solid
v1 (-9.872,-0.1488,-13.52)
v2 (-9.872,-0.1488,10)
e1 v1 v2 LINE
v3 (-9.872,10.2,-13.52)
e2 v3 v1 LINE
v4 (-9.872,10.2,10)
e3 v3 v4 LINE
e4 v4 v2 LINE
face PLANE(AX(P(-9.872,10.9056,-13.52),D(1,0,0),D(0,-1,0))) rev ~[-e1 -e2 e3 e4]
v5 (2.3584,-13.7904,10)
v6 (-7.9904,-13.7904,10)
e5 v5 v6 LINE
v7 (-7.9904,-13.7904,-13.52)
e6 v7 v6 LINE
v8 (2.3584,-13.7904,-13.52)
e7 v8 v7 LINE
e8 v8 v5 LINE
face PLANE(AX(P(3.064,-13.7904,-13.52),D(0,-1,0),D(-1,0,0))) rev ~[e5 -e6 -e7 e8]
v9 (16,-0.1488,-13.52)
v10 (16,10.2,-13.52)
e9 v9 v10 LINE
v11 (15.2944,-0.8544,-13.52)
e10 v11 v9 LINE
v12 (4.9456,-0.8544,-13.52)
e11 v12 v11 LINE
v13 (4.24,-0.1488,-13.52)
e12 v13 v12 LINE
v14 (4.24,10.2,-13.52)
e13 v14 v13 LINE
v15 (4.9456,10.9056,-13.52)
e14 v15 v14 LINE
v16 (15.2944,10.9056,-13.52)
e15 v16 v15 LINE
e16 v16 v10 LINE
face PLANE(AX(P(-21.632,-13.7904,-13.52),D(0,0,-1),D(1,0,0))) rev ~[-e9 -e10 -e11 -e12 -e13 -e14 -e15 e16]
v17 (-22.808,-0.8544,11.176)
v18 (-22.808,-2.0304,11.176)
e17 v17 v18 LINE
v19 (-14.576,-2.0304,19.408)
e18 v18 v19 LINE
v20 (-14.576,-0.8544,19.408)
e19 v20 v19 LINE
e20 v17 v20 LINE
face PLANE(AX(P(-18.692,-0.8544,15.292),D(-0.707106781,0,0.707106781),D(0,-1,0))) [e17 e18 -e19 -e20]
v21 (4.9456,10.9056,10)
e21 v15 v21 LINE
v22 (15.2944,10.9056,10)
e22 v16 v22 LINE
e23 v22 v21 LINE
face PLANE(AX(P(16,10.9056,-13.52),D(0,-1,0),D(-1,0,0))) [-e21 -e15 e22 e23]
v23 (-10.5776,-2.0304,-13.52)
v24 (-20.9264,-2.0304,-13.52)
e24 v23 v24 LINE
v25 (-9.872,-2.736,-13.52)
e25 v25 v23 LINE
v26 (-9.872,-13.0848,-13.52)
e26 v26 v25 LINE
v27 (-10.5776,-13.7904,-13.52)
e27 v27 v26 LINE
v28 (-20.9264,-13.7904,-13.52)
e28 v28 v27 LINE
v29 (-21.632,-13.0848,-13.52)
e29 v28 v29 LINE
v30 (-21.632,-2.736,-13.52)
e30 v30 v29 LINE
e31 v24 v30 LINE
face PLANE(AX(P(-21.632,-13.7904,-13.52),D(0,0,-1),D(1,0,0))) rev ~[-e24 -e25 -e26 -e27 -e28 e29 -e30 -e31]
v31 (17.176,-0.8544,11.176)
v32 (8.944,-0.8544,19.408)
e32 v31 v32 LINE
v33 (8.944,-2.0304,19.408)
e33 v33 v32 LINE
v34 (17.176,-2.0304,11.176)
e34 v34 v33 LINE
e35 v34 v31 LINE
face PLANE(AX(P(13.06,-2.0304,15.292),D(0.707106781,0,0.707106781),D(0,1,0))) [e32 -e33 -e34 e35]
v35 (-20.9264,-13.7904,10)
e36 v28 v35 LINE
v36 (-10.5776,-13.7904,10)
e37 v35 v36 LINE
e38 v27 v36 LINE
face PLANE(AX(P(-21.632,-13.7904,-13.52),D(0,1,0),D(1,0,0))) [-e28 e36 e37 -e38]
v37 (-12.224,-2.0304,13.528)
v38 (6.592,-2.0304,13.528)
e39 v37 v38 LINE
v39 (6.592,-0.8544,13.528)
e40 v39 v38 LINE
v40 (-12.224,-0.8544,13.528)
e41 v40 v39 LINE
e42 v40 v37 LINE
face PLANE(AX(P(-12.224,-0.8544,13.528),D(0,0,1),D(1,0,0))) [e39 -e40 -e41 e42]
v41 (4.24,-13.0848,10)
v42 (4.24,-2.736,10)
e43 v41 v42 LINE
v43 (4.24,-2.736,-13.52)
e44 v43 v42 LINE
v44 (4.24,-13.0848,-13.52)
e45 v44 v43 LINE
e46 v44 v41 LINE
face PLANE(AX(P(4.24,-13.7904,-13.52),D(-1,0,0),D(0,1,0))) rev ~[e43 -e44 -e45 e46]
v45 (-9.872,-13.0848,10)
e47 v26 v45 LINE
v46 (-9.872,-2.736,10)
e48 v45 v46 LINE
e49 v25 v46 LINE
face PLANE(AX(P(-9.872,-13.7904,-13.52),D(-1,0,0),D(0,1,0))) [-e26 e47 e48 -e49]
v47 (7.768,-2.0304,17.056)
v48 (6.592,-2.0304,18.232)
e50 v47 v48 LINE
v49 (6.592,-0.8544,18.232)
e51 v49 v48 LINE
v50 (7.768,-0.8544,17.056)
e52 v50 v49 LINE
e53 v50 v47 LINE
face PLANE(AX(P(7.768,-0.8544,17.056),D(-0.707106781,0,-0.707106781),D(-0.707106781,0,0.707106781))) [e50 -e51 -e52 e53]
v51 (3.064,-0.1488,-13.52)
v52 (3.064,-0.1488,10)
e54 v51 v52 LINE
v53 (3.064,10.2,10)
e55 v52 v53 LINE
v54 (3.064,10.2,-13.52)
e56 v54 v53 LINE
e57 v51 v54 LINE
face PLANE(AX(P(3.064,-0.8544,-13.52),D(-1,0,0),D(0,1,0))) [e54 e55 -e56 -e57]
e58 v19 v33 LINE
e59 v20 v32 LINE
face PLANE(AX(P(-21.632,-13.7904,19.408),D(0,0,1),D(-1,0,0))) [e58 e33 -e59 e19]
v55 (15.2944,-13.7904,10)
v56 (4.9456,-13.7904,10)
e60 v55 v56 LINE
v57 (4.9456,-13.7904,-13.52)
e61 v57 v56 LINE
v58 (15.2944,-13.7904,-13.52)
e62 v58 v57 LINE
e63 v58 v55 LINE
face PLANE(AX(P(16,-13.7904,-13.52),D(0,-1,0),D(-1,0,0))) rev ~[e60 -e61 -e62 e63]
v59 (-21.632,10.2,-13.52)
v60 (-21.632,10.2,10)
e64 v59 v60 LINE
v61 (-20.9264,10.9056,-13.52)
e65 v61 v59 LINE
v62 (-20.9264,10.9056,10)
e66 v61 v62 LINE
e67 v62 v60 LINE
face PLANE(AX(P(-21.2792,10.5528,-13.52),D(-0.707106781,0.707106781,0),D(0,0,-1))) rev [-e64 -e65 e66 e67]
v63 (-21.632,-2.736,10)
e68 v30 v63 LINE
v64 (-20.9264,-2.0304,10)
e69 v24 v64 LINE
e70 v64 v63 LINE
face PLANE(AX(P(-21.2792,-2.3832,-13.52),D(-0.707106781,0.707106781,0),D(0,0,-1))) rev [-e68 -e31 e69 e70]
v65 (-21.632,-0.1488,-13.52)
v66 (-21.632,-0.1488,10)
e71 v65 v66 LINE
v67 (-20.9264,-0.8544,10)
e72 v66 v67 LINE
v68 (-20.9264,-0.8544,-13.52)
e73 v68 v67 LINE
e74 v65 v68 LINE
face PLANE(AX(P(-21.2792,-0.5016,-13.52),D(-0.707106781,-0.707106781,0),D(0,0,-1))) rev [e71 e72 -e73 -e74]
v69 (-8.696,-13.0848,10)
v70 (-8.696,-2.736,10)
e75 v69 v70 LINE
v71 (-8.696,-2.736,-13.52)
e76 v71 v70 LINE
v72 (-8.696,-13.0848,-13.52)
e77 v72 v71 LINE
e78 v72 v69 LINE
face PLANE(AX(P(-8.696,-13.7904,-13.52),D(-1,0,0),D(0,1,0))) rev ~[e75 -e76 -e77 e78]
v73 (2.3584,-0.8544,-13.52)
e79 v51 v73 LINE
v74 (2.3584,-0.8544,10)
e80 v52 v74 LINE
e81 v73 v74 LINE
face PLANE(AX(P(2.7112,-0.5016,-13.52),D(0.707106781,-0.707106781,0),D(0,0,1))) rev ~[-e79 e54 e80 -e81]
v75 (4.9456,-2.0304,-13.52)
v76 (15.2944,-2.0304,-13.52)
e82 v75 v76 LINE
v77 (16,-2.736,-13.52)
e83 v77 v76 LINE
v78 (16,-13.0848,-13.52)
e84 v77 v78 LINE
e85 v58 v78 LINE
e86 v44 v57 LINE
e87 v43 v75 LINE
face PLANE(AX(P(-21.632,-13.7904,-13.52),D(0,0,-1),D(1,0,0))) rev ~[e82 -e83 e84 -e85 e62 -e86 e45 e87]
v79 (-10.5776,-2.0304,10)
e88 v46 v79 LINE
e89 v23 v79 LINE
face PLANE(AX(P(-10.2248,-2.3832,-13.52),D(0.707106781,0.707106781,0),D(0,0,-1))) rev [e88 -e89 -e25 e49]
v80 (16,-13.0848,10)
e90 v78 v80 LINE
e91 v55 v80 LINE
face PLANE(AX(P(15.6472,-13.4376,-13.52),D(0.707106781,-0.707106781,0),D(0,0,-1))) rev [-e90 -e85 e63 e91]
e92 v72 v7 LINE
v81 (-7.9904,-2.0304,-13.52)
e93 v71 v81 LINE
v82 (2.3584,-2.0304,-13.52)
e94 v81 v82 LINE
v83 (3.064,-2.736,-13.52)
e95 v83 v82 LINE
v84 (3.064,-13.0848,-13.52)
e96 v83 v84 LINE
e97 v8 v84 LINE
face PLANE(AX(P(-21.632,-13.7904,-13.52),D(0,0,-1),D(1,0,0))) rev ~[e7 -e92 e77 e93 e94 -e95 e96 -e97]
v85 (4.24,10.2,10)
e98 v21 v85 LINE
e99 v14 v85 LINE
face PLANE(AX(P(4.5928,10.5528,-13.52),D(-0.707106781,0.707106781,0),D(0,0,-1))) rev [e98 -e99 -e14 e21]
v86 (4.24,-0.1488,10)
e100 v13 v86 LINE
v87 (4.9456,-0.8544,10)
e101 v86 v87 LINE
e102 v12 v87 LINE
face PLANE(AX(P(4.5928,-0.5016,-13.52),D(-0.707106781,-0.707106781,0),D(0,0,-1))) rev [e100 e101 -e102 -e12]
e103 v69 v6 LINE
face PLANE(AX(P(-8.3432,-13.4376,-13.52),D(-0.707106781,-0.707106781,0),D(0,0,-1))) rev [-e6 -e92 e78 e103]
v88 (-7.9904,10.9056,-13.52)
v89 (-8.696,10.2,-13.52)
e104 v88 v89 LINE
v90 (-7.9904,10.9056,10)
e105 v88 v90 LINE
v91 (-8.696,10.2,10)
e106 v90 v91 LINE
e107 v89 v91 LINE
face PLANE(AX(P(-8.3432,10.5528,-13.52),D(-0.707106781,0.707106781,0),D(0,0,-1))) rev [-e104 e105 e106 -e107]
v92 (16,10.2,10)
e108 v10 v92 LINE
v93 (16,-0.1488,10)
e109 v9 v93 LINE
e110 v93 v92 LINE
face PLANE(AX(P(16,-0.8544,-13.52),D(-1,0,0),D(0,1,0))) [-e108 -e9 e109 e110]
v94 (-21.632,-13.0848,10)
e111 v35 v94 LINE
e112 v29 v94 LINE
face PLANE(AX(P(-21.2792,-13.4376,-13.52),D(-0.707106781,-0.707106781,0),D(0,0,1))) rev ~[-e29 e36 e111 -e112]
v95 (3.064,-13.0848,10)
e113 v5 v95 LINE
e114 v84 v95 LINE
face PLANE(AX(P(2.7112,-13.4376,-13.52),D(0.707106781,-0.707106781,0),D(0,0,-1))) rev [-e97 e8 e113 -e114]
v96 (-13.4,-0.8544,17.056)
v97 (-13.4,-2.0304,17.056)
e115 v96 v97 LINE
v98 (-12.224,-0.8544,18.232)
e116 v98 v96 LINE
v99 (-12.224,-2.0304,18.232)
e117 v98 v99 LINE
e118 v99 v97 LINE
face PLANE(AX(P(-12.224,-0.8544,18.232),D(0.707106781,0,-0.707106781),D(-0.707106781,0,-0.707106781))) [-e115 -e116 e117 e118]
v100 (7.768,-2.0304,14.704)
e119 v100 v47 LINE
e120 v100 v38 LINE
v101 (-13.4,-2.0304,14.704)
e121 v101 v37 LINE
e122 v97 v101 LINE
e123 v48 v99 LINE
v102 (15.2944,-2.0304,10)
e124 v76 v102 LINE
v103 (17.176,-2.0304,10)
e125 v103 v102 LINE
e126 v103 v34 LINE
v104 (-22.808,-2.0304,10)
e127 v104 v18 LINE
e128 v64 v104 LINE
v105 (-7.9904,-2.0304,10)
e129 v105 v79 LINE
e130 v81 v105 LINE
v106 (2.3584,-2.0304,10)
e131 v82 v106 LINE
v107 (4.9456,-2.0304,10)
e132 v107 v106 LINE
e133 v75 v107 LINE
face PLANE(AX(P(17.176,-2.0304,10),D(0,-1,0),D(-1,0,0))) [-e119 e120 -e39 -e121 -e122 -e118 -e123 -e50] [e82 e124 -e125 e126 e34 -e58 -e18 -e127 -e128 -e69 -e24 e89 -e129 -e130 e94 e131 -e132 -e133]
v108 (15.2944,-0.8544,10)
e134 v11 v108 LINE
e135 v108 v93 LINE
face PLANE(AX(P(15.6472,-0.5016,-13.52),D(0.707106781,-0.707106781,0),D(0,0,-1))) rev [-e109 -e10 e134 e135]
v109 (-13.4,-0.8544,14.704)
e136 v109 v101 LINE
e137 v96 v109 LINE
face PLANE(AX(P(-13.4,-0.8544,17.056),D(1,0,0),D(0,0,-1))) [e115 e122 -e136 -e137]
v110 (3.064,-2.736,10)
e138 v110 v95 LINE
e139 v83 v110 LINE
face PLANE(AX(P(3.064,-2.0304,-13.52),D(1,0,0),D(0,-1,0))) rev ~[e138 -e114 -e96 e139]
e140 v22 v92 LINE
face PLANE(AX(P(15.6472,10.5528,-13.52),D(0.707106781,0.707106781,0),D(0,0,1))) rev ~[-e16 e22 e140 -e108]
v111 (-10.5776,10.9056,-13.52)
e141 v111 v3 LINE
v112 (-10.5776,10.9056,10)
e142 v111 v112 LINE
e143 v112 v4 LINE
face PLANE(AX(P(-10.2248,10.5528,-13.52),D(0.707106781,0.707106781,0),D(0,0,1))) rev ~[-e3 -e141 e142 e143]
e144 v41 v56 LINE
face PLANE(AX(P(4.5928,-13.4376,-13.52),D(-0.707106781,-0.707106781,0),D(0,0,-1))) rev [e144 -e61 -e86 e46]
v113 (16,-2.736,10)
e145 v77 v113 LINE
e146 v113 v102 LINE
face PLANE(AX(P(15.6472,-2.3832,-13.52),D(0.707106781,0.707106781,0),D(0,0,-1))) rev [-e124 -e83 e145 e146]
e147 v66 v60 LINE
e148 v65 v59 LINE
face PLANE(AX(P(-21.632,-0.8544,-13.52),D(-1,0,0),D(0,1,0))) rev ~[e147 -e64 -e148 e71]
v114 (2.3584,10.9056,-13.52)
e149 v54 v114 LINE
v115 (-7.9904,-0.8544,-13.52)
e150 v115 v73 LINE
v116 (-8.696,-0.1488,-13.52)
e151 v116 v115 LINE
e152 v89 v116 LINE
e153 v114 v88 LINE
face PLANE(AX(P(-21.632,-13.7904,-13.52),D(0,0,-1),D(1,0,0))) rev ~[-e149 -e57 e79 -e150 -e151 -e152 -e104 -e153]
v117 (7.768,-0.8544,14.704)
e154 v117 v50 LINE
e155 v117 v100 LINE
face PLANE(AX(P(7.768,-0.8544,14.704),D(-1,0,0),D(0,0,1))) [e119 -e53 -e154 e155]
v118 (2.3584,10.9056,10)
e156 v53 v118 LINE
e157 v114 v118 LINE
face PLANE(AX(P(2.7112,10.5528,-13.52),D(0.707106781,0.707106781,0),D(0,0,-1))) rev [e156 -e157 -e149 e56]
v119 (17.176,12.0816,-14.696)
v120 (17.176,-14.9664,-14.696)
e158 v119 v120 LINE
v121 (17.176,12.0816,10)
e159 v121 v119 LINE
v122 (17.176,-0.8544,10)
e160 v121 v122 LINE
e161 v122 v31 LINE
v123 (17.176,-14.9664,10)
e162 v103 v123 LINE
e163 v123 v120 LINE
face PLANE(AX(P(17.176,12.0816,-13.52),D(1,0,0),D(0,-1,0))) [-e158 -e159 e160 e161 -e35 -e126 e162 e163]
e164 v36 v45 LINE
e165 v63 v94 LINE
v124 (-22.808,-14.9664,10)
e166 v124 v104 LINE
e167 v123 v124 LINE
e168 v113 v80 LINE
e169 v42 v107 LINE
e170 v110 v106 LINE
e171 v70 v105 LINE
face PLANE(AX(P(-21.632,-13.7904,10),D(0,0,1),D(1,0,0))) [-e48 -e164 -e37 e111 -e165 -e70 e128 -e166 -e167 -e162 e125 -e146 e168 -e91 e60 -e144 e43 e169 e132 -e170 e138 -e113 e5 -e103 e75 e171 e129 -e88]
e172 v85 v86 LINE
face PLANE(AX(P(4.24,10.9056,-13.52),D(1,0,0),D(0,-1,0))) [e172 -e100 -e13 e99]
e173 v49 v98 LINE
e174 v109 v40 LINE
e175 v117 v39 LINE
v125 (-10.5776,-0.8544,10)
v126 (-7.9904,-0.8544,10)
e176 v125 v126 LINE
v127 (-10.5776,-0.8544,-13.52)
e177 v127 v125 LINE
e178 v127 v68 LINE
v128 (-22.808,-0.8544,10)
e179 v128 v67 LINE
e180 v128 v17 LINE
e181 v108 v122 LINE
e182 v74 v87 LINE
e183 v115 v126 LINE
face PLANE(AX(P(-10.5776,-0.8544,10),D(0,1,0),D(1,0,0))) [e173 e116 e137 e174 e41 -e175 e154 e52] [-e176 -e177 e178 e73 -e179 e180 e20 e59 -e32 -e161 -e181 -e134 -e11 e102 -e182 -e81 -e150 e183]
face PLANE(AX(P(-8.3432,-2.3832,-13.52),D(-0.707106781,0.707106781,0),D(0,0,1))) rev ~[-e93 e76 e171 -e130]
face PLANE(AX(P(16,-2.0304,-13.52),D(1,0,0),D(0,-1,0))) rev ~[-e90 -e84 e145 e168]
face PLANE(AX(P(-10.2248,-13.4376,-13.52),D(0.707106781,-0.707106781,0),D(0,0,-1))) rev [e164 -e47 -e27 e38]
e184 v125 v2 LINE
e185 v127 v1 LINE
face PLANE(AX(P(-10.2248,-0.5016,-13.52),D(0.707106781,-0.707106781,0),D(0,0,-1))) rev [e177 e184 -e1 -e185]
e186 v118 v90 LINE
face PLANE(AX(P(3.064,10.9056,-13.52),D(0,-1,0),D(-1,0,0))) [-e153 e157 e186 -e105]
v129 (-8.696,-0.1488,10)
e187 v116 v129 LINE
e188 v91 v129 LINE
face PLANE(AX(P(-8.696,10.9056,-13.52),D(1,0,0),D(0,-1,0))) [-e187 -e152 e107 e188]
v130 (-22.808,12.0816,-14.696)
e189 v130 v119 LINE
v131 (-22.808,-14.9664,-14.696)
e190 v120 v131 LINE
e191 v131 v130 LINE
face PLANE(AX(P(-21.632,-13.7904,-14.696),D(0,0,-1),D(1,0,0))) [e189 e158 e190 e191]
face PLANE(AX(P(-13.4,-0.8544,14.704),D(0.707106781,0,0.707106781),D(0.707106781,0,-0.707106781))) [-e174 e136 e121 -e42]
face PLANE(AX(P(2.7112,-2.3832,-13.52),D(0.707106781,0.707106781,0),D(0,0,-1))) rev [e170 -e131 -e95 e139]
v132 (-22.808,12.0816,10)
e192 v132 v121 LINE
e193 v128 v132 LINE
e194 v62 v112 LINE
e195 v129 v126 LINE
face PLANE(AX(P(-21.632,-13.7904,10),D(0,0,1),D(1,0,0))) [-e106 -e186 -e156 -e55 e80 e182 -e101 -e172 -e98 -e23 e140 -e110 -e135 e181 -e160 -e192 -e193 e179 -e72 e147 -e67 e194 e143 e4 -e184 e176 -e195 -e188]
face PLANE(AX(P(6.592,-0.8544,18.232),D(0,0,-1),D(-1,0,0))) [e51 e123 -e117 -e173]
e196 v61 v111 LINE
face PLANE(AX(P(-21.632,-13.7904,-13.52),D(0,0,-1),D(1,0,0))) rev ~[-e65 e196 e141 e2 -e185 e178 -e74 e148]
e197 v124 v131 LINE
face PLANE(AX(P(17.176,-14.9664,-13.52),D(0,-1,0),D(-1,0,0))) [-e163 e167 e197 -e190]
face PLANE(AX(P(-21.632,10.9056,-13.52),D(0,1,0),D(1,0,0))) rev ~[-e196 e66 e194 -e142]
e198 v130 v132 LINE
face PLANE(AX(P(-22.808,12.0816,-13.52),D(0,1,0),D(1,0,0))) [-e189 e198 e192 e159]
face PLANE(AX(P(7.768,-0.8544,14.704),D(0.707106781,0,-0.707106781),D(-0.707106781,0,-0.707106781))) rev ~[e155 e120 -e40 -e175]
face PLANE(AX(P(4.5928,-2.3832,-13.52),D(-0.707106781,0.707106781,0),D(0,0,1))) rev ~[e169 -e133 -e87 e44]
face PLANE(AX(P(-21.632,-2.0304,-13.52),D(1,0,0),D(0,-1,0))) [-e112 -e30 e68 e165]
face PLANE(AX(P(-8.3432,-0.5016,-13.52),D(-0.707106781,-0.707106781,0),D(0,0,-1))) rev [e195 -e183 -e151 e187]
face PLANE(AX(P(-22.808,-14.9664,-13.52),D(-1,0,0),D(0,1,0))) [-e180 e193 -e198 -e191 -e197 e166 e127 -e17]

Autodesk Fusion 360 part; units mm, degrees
sketch "Sketch1" plane through (0, 0, 0) normal (0, 0, 1) x (1, 0, 0)
  line L0 (0, 0) -> (5, 0)
  line L1 (5, 0) -> (5, 5)
  line L2 (5, 5) -> (0, 5)
  line L3 (0, 5) -> (0, 0)
  line L4 (5, 5) -> (5.5, 5) construction
  line L5 (5.5, 5) -> (10.5, 5)
  line L6 (10.5, 5) -> (10.5, 0)
  line L7 (10.5, 0) -> (5.5, 0)
  line L8 (5.5, 0) -> (5.5, 5)
  line L9 (10.5, 5) -> (11, 5) construction
  line L10 (11, 5) -> (16, 5)
  line L11 (16, 5) -> (16, 0)
  line L12 (16, 0) -> (11, 0)
  line L13 (11, 0) -> (11, 5)
  line L14 (0, 5) -> (0, 5.5) construction
  line L15 (0, 5.25) -> (16.5, 5.25) construction
  line L16 (16, 10.5) -> (11, 10.5)
  line L17 (16, 5.5) -> (16, 10.5)
  line L18 (11, 5.5) -> (16, 5.5)
  line L19 (11, 10.5) -> (11, 5.5)
  line L20 (10.5, 5.5) -> (10.5, 10.5)
  line L21 (5.5, 5.5) -> (10.5, 5.5)
  line L22 (10.5, 10.5) -> (5.5, 10.5)
  line L23 (5.5, 10.5) -> (5.5, 5.5)
  line L24 (5, 10.5) -> (5, 5.5)
  line L25 (0, 10.5) -> (5, 10.5)
  line L26 (5, 5.5) -> (0, 5.5)
  line L27 (0, 5.5) -> (0, 10.5)
  line L28 (0, 10.5) -> (-0.5, 10.5) construction
  line L29 (-0.5, 10.5) -> (-0.5, 11) construction
  line L30 (-0.5, 11) -> (16.5, 11)
  line L31 (16.5, 11) -> (16.5, -0.5)
  line L32 (16.5, -0.5) -> (-0.5, -0.5)
  line L33 (-0.5, -0.5) -> (-0.5, 11)
  dimension "d1" = 5
  dimension "d2" = 5
  dimension "d3" = 0.5
  dimension "d4" = 5
  dimension "d5" = 5
  dimension "d6" = 5
  dimension "d7" = 0.5
  dimension "d8" = 0.5
  dimension "d9" = 0.5
  dimension "d10" = 0.5
  dimension "d11" = 17
  dimension "d12" = 11.5
extrude "Extrude1" add sketch "Sketch1" along normal blind 10 makes body 1
chamfer "Chamfer1" distance 0.3 angle 45 23 edges at (0, 5, 5) (0, 10.5, 5) (5.5, 5, 5) (5.5, 10.5, 5) (11, 5, 5) (11, 10.5, 5) (0, 5.5, 5) (0, 0, 5) (5, 0, 5) (5, 5, 5) (11, 0, 5) (16, 5, 5) (16, 10.5, 5) (16, 0, 5) (10.5, 5.5, 5) (16, 5.5, 5) (10.5, 0, 5) (5, 5.5, 5) (5.5, 5.5, 5) (11, 5.5, 5) (10.5, 5, 5) (10.5, 10.5, 5) (5, 10.5, 5) on bodies 1
sketch "Sketch2" plane through (0, 0, 0) normal (0, 0, -1) x (1, 0, 0)
  line L0 (4.7, -5.5) -> (5, -5.8)
  line L1 (5, -5.8) -> (5, -10.2)
  line L2 (5, -10.2) -> (4.7, -10.5)
  line L3 (4.7, -10.5) -> (0.3, -10.5)
  line L4 (0.3, -10.5) -> (0, -10.2)
  line L5 (0, -10.2) -> (0, -5.8)
  line L6 (0, -5.8) -> (0.3, -5.5)
  line L7 (0.3, -5.5) -> (4.7, -5.5)
  line L8 (0, -0.3) -> (0.3, 0)
  line L9 (0.3, 0) -> (4.7, 0)
  line L10 (4.7, 0) -> (5, -0.3)
  line L11 (5, -0.3) -> (5, -4.7)
  line L12 (5, -4.7) -> (4.7, -5)
  line L13 (4.7, -5) -> (0.3, -5)
  line L14 (0.3, -5) -> (0, -4.7)
  line L15 (0, -4.7) -> (0, -0.3)
  line L16 (10.2, 0) -> (10.5, -0.3)
  line L17 (10.5, -0.3) -> (10.5, -4.7)
  line L18 (10.5, -4.7) -> (10.2, -5)
  line L19 (10.2, -5) -> (5.8, -5)
  line L20 (5.8, -5) -> (5.5, -4.7)
  line L21 (5.5, -4.7) -> (5.5, 0)
  line L22 (5.5, 0) -> (10.2, 0)
  line L23 (5.5, -5.8) -> (5.8, -5.5)
  line L24 (5.8, -5.5) -> (10.2, -5.5)
  line L25 (10.2, -5.5) -> (10.5, -5.8)
  line L26 (10.5, -5.8) -> (10.5, -10.2)
  line L27 (10.5, -10.2) -> (10.2, -10.5)
  line L28 (10.2, -10.5) -> (5.8, -10.5)
  line L29 (5.8, -10.5) -> (5.5, -10.2)
  line L30 (5.5, -10.2) -> (5.5, -5.8)
  line L31 (11, -5.8) -> (11.3, -5.5)
  line L32 (11.3, -5.5) -> (15.7, -5.5)
  line L33 (15.7, -5.5) -> (16, -5.8)
  line L34 (16, -5.8) -> (16, -10.2)
  line L35 (16, -10.2) -> (15.7, -10.5)
  line L36 (15.7, -10.5) -> (11.3, -10.5)
  line L37 (11.3, -10.5) -> (11, -10.2)
  line L38 (11, -10.2) -> (11, -5.8)
  line L39 (15.7, 0) -> (16, -0.3)
  line L40 (16, -0.3) -> (16, -4.7)
  line L41 (16, -4.7) -> (15.7, -5)
  line L42 (15.7, -5) -> (11.3, -5)
  line L43 (11.3, -5) -> (11, -4.7)
  line L44 (11, -4.7) -> (11, -0.3)
  line L45 (11, -0.3) -> (11.3, 0)
  line L46 (11.3, 0) -> (15.7, 0)
  line L47 (16.5, 0.5) -> (-0.5, 0.5)
  line L48 (-0.5, 0.5) -> (-0.5, -11)
  line L49 (-0.5, -11) -> (16.5, -11)
  line L50 (16.5, -11) -> (16.5, 0.5)
  line L51 (16.5, -11) -> (-0.5, -11)
  line L52 (-0.5, -11) -> (-0.5, 0.5)
  line L53 (-0.5, 0.5) -> (16.5, 0.5)
  line L54 (16.5, 0.5) -> (16.5, -11)
extrude "Extrude2" add sketch "Sketch2" along normal blind 0.5 contours L0 L1 L2 L3 L4 L5 L6 L7 | L8 L9 L10 L11 L12 L13 L14 L15 | L16 L17 L18 L19 L20 L21 L22 | L23 L24 L25 L26 L27 L28 L29 L30 | L31 L32 L33 L34 L35 L36 L37 L38 | L39 L40 L41 L42 L43 L44 L45 L46 | L47 L48 L49 L50 L51 L52 L53 L54 bodies 1
sketch "Sketch3" plane through (0, 0, 10) normal (0, 0, 1) x (-1, 0, 0)
  line L0 (-4.7, -5.5) -> (-0.3, -5.5)
  line L1 (-0.3, -5.5) -> (0, -5.8)
  line L2 (0, -5.8) -> (0, -10.2)
  line L3 (0, -10.2) -> (-0.3, -10.5)
  line L4 (-0.3, -10.5) -> (-4.7, -10.5)
  line L5 (-4.7, -10.5) -> (-5, -10.2)
  line L6 (-5, -10.2) -> (-5, -5.8)
  line L7 (-5, -5.8) -> (-4.7, -5.5)
  line L8 (0, -0.3) -> (0, -4.7)
  line L9 (0, -4.7) -> (-0.3, -5)
  line L10 (-0.3, -5) -> (-4.7, -5)
  line L11 (-4.7, -5) -> (-5, -4.7)
  line L12 (-5, -4.7) -> (-5, -0.3)
  line L13 (-5, -0.3) -> (-4.7, 0)
  line L14 (-4.7, 0) -> (-0.3, 0)
  line L15 (-0.3, 0) -> (0, -0.3)
  line L16 (-10.2, 0) -> (-5.5, 0)
  line L17 (-5.5, 0) -> (-5.5, -4.7)
  line L18 (-5.5, -4.7) -> (-5.8, -5)
  line L19 (-5.8, -5) -> (-10.2, -5)
  line L20 (-10.2, -5) -> (-10.5, -4.7)
  line L21 (-10.5, -4.7) -> (-10.5, -0.3)
  line L22 (-10.5, -0.3) -> (-10.2, 0)
  line L23 (-5.5, -5.8) -> (-5.5, -10.2)
  line L24 (-5.5, -10.2) -> (-5.8, -10.5)
  line L25 (-5.8, -10.5) -> (-10.2, -10.5)
  line L26 (-10.2, -10.5) -> (-10.5, -10.2)
  line L27 (-10.5, -10.2) -> (-10.5, -5.8)
  line L28 (-10.5, -5.8) -> (-10.2, -5.5)
  line L29 (-10.2, -5.5) -> (-5.8, -5.5)
  line L30 (-5.8, -5.5) -> (-5.5, -5.8)
  line L31 (-11, -5.8) -> (-11, -10.2)
  line L32 (-11, -10.2) -> (-11.3, -10.5)
  line L33 (-11.3, -10.5) -> (-15.7, -10.5)
  line L34 (-15.7, -10.5) -> (-16, -10.2)
  line L35 (-16, -10.2) -> (-16, -5.8)
  line L36 (-16, -5.8) -> (-15.7, -5.5)
  line L37 (-15.7, -5.5) -> (-11.3, -5.5)
  line L38 (-11.3, -5.5) -> (-11, -5.8)
  line L39 (-15.7, 0) -> (-11.3, 0)
  line L40 (-11.3, 0) -> (-11, -0.3)
  line L41 (-11, -0.3) -> (-11, -4.7)
  line L42 (-11, -4.7) -> (-11.3, -5)
  line L43 (-11.3, -5) -> (-15.7, -5)
  line L44 (-15.7, -5) -> (-16, -4.7)
  line L45 (-16, -4.7) -> (-16, -0.3)
  line L46 (-16, -0.3) -> (-15.7, 0)
  line L47 (0.5, 0.5) -> (-16.5, 0.5)
  line L48 (-16.5, 0.5) -> (-16.5, -11)
  line L49 (-16.5, -11) -> (0.5, -11)
  line L50 (0.5, -11) -> (0.5, 0.5)
  line L51 (-16.5, -5) -> (0.5, -5)
  line L52 (0.5, -5) -> (0.5, -5.5)
  line L53 (0.5, -5.5) -> (-16.5, -5.5)
  line L54 (-16.5, -5.5) -> (-16.5, -5)
  dimension "d18" = 17
  dimension "d19" = 0.5
extrude "Extrude3" add sketch "Sketch3" along normal blind 4 contours L0 L10 L19 L29 L37 L43 L48 L50 L51 L52 L53 L54 bodies 1
chamfer "Chamfer2" distance 0.3 angle 45 1 edges at (5.5, 0, 5) on bodies 1
chamfer "Chamfer3" distance 3.5 angle 45 2 edges at (16.5, 5.25, 14) (-0.5, 5.25, 14) on bodies 1
sketch "Sketch4" plane through (0, 5.5, 0) normal (0, 1, 0) x (-1, 0, 0)
  line L0 (0.5, 10.5) -> (-3, 14)
  line L1 (-3, 14) -> (-13, 14)
  line L2 (-13, 14) -> (-16.5, 10.5)
  line L3 (-16.5, 10.5) -> (-16.5, 10)
  line L4 (-16.5, 10) -> (-15.7, 10)
  line L5 (-15.7, 10) -> (-15.7, 0)
  line L6 (-15.7, 0) -> (-11.3, 0)
  line L7 (-11.3, 0) -> (-11.3, 10)
  line L8 (-11.3, 10) -> (-10.2, 10)
  line L9 (-10.2, 10) -> (-10.2, 0)
  line L10 (-10.2, 0) -> (-5.8, 0)
  line L11 (-5.8, 0) -> (-5.8, 10)
  line L12 (-5.8, 10) -> (-4.7, 10)
  line L13 (-4.7, 10) -> (-4.7, 0)
  line L14 (-4.7, 0) -> (-0.3, 0)
  line L15 (-0.3, 0) -> (-0.3, 10)
  line L16 (-0.3, 10) -> (0.5, 10)
  line L17 (0.5, 10) -> (0.5, 10.5)
  line L18 (-12.5, 13.5) -> (-3.5, 13.5)
  line L19 (-12.5, 13.5) -> (-3.5, 13.5)
  line L20 (-3.5, 13.5) -> (-3.5, 11.5)
  line L21 (-3.5, 11.5) -> (-12.5, 11.5)
  line L22 (-12.5, 11.5) -> (-12.5, 13.5)
  line L23 (-12.5, 12) -> (-12, 11.5)
  line L24 (-12.5, 13) -> (-12, 13.5)
  line L25 (-4, 13.5) -> (-3.5, 13)
  line L26 (-3.5, 12) -> (-4, 11.5)
extrude "Extrude4" cut sketch "Sketch4" against normal up to surface (0.5 mm away) contours L18 L19 L20 L21 L22 L23 L24 L25 L26 bodies 1
scale "Scale1" factor 2.352 about (16, 10.2, 10) bodies 1
copy_body "Body->Comp1" bodies 1 removing the originals makes body 2 in component "Component"
component "Component" placed x (1, 0, 0) y (0, 1, 0) z (0, 0, 1) at (0, 0, 0)
